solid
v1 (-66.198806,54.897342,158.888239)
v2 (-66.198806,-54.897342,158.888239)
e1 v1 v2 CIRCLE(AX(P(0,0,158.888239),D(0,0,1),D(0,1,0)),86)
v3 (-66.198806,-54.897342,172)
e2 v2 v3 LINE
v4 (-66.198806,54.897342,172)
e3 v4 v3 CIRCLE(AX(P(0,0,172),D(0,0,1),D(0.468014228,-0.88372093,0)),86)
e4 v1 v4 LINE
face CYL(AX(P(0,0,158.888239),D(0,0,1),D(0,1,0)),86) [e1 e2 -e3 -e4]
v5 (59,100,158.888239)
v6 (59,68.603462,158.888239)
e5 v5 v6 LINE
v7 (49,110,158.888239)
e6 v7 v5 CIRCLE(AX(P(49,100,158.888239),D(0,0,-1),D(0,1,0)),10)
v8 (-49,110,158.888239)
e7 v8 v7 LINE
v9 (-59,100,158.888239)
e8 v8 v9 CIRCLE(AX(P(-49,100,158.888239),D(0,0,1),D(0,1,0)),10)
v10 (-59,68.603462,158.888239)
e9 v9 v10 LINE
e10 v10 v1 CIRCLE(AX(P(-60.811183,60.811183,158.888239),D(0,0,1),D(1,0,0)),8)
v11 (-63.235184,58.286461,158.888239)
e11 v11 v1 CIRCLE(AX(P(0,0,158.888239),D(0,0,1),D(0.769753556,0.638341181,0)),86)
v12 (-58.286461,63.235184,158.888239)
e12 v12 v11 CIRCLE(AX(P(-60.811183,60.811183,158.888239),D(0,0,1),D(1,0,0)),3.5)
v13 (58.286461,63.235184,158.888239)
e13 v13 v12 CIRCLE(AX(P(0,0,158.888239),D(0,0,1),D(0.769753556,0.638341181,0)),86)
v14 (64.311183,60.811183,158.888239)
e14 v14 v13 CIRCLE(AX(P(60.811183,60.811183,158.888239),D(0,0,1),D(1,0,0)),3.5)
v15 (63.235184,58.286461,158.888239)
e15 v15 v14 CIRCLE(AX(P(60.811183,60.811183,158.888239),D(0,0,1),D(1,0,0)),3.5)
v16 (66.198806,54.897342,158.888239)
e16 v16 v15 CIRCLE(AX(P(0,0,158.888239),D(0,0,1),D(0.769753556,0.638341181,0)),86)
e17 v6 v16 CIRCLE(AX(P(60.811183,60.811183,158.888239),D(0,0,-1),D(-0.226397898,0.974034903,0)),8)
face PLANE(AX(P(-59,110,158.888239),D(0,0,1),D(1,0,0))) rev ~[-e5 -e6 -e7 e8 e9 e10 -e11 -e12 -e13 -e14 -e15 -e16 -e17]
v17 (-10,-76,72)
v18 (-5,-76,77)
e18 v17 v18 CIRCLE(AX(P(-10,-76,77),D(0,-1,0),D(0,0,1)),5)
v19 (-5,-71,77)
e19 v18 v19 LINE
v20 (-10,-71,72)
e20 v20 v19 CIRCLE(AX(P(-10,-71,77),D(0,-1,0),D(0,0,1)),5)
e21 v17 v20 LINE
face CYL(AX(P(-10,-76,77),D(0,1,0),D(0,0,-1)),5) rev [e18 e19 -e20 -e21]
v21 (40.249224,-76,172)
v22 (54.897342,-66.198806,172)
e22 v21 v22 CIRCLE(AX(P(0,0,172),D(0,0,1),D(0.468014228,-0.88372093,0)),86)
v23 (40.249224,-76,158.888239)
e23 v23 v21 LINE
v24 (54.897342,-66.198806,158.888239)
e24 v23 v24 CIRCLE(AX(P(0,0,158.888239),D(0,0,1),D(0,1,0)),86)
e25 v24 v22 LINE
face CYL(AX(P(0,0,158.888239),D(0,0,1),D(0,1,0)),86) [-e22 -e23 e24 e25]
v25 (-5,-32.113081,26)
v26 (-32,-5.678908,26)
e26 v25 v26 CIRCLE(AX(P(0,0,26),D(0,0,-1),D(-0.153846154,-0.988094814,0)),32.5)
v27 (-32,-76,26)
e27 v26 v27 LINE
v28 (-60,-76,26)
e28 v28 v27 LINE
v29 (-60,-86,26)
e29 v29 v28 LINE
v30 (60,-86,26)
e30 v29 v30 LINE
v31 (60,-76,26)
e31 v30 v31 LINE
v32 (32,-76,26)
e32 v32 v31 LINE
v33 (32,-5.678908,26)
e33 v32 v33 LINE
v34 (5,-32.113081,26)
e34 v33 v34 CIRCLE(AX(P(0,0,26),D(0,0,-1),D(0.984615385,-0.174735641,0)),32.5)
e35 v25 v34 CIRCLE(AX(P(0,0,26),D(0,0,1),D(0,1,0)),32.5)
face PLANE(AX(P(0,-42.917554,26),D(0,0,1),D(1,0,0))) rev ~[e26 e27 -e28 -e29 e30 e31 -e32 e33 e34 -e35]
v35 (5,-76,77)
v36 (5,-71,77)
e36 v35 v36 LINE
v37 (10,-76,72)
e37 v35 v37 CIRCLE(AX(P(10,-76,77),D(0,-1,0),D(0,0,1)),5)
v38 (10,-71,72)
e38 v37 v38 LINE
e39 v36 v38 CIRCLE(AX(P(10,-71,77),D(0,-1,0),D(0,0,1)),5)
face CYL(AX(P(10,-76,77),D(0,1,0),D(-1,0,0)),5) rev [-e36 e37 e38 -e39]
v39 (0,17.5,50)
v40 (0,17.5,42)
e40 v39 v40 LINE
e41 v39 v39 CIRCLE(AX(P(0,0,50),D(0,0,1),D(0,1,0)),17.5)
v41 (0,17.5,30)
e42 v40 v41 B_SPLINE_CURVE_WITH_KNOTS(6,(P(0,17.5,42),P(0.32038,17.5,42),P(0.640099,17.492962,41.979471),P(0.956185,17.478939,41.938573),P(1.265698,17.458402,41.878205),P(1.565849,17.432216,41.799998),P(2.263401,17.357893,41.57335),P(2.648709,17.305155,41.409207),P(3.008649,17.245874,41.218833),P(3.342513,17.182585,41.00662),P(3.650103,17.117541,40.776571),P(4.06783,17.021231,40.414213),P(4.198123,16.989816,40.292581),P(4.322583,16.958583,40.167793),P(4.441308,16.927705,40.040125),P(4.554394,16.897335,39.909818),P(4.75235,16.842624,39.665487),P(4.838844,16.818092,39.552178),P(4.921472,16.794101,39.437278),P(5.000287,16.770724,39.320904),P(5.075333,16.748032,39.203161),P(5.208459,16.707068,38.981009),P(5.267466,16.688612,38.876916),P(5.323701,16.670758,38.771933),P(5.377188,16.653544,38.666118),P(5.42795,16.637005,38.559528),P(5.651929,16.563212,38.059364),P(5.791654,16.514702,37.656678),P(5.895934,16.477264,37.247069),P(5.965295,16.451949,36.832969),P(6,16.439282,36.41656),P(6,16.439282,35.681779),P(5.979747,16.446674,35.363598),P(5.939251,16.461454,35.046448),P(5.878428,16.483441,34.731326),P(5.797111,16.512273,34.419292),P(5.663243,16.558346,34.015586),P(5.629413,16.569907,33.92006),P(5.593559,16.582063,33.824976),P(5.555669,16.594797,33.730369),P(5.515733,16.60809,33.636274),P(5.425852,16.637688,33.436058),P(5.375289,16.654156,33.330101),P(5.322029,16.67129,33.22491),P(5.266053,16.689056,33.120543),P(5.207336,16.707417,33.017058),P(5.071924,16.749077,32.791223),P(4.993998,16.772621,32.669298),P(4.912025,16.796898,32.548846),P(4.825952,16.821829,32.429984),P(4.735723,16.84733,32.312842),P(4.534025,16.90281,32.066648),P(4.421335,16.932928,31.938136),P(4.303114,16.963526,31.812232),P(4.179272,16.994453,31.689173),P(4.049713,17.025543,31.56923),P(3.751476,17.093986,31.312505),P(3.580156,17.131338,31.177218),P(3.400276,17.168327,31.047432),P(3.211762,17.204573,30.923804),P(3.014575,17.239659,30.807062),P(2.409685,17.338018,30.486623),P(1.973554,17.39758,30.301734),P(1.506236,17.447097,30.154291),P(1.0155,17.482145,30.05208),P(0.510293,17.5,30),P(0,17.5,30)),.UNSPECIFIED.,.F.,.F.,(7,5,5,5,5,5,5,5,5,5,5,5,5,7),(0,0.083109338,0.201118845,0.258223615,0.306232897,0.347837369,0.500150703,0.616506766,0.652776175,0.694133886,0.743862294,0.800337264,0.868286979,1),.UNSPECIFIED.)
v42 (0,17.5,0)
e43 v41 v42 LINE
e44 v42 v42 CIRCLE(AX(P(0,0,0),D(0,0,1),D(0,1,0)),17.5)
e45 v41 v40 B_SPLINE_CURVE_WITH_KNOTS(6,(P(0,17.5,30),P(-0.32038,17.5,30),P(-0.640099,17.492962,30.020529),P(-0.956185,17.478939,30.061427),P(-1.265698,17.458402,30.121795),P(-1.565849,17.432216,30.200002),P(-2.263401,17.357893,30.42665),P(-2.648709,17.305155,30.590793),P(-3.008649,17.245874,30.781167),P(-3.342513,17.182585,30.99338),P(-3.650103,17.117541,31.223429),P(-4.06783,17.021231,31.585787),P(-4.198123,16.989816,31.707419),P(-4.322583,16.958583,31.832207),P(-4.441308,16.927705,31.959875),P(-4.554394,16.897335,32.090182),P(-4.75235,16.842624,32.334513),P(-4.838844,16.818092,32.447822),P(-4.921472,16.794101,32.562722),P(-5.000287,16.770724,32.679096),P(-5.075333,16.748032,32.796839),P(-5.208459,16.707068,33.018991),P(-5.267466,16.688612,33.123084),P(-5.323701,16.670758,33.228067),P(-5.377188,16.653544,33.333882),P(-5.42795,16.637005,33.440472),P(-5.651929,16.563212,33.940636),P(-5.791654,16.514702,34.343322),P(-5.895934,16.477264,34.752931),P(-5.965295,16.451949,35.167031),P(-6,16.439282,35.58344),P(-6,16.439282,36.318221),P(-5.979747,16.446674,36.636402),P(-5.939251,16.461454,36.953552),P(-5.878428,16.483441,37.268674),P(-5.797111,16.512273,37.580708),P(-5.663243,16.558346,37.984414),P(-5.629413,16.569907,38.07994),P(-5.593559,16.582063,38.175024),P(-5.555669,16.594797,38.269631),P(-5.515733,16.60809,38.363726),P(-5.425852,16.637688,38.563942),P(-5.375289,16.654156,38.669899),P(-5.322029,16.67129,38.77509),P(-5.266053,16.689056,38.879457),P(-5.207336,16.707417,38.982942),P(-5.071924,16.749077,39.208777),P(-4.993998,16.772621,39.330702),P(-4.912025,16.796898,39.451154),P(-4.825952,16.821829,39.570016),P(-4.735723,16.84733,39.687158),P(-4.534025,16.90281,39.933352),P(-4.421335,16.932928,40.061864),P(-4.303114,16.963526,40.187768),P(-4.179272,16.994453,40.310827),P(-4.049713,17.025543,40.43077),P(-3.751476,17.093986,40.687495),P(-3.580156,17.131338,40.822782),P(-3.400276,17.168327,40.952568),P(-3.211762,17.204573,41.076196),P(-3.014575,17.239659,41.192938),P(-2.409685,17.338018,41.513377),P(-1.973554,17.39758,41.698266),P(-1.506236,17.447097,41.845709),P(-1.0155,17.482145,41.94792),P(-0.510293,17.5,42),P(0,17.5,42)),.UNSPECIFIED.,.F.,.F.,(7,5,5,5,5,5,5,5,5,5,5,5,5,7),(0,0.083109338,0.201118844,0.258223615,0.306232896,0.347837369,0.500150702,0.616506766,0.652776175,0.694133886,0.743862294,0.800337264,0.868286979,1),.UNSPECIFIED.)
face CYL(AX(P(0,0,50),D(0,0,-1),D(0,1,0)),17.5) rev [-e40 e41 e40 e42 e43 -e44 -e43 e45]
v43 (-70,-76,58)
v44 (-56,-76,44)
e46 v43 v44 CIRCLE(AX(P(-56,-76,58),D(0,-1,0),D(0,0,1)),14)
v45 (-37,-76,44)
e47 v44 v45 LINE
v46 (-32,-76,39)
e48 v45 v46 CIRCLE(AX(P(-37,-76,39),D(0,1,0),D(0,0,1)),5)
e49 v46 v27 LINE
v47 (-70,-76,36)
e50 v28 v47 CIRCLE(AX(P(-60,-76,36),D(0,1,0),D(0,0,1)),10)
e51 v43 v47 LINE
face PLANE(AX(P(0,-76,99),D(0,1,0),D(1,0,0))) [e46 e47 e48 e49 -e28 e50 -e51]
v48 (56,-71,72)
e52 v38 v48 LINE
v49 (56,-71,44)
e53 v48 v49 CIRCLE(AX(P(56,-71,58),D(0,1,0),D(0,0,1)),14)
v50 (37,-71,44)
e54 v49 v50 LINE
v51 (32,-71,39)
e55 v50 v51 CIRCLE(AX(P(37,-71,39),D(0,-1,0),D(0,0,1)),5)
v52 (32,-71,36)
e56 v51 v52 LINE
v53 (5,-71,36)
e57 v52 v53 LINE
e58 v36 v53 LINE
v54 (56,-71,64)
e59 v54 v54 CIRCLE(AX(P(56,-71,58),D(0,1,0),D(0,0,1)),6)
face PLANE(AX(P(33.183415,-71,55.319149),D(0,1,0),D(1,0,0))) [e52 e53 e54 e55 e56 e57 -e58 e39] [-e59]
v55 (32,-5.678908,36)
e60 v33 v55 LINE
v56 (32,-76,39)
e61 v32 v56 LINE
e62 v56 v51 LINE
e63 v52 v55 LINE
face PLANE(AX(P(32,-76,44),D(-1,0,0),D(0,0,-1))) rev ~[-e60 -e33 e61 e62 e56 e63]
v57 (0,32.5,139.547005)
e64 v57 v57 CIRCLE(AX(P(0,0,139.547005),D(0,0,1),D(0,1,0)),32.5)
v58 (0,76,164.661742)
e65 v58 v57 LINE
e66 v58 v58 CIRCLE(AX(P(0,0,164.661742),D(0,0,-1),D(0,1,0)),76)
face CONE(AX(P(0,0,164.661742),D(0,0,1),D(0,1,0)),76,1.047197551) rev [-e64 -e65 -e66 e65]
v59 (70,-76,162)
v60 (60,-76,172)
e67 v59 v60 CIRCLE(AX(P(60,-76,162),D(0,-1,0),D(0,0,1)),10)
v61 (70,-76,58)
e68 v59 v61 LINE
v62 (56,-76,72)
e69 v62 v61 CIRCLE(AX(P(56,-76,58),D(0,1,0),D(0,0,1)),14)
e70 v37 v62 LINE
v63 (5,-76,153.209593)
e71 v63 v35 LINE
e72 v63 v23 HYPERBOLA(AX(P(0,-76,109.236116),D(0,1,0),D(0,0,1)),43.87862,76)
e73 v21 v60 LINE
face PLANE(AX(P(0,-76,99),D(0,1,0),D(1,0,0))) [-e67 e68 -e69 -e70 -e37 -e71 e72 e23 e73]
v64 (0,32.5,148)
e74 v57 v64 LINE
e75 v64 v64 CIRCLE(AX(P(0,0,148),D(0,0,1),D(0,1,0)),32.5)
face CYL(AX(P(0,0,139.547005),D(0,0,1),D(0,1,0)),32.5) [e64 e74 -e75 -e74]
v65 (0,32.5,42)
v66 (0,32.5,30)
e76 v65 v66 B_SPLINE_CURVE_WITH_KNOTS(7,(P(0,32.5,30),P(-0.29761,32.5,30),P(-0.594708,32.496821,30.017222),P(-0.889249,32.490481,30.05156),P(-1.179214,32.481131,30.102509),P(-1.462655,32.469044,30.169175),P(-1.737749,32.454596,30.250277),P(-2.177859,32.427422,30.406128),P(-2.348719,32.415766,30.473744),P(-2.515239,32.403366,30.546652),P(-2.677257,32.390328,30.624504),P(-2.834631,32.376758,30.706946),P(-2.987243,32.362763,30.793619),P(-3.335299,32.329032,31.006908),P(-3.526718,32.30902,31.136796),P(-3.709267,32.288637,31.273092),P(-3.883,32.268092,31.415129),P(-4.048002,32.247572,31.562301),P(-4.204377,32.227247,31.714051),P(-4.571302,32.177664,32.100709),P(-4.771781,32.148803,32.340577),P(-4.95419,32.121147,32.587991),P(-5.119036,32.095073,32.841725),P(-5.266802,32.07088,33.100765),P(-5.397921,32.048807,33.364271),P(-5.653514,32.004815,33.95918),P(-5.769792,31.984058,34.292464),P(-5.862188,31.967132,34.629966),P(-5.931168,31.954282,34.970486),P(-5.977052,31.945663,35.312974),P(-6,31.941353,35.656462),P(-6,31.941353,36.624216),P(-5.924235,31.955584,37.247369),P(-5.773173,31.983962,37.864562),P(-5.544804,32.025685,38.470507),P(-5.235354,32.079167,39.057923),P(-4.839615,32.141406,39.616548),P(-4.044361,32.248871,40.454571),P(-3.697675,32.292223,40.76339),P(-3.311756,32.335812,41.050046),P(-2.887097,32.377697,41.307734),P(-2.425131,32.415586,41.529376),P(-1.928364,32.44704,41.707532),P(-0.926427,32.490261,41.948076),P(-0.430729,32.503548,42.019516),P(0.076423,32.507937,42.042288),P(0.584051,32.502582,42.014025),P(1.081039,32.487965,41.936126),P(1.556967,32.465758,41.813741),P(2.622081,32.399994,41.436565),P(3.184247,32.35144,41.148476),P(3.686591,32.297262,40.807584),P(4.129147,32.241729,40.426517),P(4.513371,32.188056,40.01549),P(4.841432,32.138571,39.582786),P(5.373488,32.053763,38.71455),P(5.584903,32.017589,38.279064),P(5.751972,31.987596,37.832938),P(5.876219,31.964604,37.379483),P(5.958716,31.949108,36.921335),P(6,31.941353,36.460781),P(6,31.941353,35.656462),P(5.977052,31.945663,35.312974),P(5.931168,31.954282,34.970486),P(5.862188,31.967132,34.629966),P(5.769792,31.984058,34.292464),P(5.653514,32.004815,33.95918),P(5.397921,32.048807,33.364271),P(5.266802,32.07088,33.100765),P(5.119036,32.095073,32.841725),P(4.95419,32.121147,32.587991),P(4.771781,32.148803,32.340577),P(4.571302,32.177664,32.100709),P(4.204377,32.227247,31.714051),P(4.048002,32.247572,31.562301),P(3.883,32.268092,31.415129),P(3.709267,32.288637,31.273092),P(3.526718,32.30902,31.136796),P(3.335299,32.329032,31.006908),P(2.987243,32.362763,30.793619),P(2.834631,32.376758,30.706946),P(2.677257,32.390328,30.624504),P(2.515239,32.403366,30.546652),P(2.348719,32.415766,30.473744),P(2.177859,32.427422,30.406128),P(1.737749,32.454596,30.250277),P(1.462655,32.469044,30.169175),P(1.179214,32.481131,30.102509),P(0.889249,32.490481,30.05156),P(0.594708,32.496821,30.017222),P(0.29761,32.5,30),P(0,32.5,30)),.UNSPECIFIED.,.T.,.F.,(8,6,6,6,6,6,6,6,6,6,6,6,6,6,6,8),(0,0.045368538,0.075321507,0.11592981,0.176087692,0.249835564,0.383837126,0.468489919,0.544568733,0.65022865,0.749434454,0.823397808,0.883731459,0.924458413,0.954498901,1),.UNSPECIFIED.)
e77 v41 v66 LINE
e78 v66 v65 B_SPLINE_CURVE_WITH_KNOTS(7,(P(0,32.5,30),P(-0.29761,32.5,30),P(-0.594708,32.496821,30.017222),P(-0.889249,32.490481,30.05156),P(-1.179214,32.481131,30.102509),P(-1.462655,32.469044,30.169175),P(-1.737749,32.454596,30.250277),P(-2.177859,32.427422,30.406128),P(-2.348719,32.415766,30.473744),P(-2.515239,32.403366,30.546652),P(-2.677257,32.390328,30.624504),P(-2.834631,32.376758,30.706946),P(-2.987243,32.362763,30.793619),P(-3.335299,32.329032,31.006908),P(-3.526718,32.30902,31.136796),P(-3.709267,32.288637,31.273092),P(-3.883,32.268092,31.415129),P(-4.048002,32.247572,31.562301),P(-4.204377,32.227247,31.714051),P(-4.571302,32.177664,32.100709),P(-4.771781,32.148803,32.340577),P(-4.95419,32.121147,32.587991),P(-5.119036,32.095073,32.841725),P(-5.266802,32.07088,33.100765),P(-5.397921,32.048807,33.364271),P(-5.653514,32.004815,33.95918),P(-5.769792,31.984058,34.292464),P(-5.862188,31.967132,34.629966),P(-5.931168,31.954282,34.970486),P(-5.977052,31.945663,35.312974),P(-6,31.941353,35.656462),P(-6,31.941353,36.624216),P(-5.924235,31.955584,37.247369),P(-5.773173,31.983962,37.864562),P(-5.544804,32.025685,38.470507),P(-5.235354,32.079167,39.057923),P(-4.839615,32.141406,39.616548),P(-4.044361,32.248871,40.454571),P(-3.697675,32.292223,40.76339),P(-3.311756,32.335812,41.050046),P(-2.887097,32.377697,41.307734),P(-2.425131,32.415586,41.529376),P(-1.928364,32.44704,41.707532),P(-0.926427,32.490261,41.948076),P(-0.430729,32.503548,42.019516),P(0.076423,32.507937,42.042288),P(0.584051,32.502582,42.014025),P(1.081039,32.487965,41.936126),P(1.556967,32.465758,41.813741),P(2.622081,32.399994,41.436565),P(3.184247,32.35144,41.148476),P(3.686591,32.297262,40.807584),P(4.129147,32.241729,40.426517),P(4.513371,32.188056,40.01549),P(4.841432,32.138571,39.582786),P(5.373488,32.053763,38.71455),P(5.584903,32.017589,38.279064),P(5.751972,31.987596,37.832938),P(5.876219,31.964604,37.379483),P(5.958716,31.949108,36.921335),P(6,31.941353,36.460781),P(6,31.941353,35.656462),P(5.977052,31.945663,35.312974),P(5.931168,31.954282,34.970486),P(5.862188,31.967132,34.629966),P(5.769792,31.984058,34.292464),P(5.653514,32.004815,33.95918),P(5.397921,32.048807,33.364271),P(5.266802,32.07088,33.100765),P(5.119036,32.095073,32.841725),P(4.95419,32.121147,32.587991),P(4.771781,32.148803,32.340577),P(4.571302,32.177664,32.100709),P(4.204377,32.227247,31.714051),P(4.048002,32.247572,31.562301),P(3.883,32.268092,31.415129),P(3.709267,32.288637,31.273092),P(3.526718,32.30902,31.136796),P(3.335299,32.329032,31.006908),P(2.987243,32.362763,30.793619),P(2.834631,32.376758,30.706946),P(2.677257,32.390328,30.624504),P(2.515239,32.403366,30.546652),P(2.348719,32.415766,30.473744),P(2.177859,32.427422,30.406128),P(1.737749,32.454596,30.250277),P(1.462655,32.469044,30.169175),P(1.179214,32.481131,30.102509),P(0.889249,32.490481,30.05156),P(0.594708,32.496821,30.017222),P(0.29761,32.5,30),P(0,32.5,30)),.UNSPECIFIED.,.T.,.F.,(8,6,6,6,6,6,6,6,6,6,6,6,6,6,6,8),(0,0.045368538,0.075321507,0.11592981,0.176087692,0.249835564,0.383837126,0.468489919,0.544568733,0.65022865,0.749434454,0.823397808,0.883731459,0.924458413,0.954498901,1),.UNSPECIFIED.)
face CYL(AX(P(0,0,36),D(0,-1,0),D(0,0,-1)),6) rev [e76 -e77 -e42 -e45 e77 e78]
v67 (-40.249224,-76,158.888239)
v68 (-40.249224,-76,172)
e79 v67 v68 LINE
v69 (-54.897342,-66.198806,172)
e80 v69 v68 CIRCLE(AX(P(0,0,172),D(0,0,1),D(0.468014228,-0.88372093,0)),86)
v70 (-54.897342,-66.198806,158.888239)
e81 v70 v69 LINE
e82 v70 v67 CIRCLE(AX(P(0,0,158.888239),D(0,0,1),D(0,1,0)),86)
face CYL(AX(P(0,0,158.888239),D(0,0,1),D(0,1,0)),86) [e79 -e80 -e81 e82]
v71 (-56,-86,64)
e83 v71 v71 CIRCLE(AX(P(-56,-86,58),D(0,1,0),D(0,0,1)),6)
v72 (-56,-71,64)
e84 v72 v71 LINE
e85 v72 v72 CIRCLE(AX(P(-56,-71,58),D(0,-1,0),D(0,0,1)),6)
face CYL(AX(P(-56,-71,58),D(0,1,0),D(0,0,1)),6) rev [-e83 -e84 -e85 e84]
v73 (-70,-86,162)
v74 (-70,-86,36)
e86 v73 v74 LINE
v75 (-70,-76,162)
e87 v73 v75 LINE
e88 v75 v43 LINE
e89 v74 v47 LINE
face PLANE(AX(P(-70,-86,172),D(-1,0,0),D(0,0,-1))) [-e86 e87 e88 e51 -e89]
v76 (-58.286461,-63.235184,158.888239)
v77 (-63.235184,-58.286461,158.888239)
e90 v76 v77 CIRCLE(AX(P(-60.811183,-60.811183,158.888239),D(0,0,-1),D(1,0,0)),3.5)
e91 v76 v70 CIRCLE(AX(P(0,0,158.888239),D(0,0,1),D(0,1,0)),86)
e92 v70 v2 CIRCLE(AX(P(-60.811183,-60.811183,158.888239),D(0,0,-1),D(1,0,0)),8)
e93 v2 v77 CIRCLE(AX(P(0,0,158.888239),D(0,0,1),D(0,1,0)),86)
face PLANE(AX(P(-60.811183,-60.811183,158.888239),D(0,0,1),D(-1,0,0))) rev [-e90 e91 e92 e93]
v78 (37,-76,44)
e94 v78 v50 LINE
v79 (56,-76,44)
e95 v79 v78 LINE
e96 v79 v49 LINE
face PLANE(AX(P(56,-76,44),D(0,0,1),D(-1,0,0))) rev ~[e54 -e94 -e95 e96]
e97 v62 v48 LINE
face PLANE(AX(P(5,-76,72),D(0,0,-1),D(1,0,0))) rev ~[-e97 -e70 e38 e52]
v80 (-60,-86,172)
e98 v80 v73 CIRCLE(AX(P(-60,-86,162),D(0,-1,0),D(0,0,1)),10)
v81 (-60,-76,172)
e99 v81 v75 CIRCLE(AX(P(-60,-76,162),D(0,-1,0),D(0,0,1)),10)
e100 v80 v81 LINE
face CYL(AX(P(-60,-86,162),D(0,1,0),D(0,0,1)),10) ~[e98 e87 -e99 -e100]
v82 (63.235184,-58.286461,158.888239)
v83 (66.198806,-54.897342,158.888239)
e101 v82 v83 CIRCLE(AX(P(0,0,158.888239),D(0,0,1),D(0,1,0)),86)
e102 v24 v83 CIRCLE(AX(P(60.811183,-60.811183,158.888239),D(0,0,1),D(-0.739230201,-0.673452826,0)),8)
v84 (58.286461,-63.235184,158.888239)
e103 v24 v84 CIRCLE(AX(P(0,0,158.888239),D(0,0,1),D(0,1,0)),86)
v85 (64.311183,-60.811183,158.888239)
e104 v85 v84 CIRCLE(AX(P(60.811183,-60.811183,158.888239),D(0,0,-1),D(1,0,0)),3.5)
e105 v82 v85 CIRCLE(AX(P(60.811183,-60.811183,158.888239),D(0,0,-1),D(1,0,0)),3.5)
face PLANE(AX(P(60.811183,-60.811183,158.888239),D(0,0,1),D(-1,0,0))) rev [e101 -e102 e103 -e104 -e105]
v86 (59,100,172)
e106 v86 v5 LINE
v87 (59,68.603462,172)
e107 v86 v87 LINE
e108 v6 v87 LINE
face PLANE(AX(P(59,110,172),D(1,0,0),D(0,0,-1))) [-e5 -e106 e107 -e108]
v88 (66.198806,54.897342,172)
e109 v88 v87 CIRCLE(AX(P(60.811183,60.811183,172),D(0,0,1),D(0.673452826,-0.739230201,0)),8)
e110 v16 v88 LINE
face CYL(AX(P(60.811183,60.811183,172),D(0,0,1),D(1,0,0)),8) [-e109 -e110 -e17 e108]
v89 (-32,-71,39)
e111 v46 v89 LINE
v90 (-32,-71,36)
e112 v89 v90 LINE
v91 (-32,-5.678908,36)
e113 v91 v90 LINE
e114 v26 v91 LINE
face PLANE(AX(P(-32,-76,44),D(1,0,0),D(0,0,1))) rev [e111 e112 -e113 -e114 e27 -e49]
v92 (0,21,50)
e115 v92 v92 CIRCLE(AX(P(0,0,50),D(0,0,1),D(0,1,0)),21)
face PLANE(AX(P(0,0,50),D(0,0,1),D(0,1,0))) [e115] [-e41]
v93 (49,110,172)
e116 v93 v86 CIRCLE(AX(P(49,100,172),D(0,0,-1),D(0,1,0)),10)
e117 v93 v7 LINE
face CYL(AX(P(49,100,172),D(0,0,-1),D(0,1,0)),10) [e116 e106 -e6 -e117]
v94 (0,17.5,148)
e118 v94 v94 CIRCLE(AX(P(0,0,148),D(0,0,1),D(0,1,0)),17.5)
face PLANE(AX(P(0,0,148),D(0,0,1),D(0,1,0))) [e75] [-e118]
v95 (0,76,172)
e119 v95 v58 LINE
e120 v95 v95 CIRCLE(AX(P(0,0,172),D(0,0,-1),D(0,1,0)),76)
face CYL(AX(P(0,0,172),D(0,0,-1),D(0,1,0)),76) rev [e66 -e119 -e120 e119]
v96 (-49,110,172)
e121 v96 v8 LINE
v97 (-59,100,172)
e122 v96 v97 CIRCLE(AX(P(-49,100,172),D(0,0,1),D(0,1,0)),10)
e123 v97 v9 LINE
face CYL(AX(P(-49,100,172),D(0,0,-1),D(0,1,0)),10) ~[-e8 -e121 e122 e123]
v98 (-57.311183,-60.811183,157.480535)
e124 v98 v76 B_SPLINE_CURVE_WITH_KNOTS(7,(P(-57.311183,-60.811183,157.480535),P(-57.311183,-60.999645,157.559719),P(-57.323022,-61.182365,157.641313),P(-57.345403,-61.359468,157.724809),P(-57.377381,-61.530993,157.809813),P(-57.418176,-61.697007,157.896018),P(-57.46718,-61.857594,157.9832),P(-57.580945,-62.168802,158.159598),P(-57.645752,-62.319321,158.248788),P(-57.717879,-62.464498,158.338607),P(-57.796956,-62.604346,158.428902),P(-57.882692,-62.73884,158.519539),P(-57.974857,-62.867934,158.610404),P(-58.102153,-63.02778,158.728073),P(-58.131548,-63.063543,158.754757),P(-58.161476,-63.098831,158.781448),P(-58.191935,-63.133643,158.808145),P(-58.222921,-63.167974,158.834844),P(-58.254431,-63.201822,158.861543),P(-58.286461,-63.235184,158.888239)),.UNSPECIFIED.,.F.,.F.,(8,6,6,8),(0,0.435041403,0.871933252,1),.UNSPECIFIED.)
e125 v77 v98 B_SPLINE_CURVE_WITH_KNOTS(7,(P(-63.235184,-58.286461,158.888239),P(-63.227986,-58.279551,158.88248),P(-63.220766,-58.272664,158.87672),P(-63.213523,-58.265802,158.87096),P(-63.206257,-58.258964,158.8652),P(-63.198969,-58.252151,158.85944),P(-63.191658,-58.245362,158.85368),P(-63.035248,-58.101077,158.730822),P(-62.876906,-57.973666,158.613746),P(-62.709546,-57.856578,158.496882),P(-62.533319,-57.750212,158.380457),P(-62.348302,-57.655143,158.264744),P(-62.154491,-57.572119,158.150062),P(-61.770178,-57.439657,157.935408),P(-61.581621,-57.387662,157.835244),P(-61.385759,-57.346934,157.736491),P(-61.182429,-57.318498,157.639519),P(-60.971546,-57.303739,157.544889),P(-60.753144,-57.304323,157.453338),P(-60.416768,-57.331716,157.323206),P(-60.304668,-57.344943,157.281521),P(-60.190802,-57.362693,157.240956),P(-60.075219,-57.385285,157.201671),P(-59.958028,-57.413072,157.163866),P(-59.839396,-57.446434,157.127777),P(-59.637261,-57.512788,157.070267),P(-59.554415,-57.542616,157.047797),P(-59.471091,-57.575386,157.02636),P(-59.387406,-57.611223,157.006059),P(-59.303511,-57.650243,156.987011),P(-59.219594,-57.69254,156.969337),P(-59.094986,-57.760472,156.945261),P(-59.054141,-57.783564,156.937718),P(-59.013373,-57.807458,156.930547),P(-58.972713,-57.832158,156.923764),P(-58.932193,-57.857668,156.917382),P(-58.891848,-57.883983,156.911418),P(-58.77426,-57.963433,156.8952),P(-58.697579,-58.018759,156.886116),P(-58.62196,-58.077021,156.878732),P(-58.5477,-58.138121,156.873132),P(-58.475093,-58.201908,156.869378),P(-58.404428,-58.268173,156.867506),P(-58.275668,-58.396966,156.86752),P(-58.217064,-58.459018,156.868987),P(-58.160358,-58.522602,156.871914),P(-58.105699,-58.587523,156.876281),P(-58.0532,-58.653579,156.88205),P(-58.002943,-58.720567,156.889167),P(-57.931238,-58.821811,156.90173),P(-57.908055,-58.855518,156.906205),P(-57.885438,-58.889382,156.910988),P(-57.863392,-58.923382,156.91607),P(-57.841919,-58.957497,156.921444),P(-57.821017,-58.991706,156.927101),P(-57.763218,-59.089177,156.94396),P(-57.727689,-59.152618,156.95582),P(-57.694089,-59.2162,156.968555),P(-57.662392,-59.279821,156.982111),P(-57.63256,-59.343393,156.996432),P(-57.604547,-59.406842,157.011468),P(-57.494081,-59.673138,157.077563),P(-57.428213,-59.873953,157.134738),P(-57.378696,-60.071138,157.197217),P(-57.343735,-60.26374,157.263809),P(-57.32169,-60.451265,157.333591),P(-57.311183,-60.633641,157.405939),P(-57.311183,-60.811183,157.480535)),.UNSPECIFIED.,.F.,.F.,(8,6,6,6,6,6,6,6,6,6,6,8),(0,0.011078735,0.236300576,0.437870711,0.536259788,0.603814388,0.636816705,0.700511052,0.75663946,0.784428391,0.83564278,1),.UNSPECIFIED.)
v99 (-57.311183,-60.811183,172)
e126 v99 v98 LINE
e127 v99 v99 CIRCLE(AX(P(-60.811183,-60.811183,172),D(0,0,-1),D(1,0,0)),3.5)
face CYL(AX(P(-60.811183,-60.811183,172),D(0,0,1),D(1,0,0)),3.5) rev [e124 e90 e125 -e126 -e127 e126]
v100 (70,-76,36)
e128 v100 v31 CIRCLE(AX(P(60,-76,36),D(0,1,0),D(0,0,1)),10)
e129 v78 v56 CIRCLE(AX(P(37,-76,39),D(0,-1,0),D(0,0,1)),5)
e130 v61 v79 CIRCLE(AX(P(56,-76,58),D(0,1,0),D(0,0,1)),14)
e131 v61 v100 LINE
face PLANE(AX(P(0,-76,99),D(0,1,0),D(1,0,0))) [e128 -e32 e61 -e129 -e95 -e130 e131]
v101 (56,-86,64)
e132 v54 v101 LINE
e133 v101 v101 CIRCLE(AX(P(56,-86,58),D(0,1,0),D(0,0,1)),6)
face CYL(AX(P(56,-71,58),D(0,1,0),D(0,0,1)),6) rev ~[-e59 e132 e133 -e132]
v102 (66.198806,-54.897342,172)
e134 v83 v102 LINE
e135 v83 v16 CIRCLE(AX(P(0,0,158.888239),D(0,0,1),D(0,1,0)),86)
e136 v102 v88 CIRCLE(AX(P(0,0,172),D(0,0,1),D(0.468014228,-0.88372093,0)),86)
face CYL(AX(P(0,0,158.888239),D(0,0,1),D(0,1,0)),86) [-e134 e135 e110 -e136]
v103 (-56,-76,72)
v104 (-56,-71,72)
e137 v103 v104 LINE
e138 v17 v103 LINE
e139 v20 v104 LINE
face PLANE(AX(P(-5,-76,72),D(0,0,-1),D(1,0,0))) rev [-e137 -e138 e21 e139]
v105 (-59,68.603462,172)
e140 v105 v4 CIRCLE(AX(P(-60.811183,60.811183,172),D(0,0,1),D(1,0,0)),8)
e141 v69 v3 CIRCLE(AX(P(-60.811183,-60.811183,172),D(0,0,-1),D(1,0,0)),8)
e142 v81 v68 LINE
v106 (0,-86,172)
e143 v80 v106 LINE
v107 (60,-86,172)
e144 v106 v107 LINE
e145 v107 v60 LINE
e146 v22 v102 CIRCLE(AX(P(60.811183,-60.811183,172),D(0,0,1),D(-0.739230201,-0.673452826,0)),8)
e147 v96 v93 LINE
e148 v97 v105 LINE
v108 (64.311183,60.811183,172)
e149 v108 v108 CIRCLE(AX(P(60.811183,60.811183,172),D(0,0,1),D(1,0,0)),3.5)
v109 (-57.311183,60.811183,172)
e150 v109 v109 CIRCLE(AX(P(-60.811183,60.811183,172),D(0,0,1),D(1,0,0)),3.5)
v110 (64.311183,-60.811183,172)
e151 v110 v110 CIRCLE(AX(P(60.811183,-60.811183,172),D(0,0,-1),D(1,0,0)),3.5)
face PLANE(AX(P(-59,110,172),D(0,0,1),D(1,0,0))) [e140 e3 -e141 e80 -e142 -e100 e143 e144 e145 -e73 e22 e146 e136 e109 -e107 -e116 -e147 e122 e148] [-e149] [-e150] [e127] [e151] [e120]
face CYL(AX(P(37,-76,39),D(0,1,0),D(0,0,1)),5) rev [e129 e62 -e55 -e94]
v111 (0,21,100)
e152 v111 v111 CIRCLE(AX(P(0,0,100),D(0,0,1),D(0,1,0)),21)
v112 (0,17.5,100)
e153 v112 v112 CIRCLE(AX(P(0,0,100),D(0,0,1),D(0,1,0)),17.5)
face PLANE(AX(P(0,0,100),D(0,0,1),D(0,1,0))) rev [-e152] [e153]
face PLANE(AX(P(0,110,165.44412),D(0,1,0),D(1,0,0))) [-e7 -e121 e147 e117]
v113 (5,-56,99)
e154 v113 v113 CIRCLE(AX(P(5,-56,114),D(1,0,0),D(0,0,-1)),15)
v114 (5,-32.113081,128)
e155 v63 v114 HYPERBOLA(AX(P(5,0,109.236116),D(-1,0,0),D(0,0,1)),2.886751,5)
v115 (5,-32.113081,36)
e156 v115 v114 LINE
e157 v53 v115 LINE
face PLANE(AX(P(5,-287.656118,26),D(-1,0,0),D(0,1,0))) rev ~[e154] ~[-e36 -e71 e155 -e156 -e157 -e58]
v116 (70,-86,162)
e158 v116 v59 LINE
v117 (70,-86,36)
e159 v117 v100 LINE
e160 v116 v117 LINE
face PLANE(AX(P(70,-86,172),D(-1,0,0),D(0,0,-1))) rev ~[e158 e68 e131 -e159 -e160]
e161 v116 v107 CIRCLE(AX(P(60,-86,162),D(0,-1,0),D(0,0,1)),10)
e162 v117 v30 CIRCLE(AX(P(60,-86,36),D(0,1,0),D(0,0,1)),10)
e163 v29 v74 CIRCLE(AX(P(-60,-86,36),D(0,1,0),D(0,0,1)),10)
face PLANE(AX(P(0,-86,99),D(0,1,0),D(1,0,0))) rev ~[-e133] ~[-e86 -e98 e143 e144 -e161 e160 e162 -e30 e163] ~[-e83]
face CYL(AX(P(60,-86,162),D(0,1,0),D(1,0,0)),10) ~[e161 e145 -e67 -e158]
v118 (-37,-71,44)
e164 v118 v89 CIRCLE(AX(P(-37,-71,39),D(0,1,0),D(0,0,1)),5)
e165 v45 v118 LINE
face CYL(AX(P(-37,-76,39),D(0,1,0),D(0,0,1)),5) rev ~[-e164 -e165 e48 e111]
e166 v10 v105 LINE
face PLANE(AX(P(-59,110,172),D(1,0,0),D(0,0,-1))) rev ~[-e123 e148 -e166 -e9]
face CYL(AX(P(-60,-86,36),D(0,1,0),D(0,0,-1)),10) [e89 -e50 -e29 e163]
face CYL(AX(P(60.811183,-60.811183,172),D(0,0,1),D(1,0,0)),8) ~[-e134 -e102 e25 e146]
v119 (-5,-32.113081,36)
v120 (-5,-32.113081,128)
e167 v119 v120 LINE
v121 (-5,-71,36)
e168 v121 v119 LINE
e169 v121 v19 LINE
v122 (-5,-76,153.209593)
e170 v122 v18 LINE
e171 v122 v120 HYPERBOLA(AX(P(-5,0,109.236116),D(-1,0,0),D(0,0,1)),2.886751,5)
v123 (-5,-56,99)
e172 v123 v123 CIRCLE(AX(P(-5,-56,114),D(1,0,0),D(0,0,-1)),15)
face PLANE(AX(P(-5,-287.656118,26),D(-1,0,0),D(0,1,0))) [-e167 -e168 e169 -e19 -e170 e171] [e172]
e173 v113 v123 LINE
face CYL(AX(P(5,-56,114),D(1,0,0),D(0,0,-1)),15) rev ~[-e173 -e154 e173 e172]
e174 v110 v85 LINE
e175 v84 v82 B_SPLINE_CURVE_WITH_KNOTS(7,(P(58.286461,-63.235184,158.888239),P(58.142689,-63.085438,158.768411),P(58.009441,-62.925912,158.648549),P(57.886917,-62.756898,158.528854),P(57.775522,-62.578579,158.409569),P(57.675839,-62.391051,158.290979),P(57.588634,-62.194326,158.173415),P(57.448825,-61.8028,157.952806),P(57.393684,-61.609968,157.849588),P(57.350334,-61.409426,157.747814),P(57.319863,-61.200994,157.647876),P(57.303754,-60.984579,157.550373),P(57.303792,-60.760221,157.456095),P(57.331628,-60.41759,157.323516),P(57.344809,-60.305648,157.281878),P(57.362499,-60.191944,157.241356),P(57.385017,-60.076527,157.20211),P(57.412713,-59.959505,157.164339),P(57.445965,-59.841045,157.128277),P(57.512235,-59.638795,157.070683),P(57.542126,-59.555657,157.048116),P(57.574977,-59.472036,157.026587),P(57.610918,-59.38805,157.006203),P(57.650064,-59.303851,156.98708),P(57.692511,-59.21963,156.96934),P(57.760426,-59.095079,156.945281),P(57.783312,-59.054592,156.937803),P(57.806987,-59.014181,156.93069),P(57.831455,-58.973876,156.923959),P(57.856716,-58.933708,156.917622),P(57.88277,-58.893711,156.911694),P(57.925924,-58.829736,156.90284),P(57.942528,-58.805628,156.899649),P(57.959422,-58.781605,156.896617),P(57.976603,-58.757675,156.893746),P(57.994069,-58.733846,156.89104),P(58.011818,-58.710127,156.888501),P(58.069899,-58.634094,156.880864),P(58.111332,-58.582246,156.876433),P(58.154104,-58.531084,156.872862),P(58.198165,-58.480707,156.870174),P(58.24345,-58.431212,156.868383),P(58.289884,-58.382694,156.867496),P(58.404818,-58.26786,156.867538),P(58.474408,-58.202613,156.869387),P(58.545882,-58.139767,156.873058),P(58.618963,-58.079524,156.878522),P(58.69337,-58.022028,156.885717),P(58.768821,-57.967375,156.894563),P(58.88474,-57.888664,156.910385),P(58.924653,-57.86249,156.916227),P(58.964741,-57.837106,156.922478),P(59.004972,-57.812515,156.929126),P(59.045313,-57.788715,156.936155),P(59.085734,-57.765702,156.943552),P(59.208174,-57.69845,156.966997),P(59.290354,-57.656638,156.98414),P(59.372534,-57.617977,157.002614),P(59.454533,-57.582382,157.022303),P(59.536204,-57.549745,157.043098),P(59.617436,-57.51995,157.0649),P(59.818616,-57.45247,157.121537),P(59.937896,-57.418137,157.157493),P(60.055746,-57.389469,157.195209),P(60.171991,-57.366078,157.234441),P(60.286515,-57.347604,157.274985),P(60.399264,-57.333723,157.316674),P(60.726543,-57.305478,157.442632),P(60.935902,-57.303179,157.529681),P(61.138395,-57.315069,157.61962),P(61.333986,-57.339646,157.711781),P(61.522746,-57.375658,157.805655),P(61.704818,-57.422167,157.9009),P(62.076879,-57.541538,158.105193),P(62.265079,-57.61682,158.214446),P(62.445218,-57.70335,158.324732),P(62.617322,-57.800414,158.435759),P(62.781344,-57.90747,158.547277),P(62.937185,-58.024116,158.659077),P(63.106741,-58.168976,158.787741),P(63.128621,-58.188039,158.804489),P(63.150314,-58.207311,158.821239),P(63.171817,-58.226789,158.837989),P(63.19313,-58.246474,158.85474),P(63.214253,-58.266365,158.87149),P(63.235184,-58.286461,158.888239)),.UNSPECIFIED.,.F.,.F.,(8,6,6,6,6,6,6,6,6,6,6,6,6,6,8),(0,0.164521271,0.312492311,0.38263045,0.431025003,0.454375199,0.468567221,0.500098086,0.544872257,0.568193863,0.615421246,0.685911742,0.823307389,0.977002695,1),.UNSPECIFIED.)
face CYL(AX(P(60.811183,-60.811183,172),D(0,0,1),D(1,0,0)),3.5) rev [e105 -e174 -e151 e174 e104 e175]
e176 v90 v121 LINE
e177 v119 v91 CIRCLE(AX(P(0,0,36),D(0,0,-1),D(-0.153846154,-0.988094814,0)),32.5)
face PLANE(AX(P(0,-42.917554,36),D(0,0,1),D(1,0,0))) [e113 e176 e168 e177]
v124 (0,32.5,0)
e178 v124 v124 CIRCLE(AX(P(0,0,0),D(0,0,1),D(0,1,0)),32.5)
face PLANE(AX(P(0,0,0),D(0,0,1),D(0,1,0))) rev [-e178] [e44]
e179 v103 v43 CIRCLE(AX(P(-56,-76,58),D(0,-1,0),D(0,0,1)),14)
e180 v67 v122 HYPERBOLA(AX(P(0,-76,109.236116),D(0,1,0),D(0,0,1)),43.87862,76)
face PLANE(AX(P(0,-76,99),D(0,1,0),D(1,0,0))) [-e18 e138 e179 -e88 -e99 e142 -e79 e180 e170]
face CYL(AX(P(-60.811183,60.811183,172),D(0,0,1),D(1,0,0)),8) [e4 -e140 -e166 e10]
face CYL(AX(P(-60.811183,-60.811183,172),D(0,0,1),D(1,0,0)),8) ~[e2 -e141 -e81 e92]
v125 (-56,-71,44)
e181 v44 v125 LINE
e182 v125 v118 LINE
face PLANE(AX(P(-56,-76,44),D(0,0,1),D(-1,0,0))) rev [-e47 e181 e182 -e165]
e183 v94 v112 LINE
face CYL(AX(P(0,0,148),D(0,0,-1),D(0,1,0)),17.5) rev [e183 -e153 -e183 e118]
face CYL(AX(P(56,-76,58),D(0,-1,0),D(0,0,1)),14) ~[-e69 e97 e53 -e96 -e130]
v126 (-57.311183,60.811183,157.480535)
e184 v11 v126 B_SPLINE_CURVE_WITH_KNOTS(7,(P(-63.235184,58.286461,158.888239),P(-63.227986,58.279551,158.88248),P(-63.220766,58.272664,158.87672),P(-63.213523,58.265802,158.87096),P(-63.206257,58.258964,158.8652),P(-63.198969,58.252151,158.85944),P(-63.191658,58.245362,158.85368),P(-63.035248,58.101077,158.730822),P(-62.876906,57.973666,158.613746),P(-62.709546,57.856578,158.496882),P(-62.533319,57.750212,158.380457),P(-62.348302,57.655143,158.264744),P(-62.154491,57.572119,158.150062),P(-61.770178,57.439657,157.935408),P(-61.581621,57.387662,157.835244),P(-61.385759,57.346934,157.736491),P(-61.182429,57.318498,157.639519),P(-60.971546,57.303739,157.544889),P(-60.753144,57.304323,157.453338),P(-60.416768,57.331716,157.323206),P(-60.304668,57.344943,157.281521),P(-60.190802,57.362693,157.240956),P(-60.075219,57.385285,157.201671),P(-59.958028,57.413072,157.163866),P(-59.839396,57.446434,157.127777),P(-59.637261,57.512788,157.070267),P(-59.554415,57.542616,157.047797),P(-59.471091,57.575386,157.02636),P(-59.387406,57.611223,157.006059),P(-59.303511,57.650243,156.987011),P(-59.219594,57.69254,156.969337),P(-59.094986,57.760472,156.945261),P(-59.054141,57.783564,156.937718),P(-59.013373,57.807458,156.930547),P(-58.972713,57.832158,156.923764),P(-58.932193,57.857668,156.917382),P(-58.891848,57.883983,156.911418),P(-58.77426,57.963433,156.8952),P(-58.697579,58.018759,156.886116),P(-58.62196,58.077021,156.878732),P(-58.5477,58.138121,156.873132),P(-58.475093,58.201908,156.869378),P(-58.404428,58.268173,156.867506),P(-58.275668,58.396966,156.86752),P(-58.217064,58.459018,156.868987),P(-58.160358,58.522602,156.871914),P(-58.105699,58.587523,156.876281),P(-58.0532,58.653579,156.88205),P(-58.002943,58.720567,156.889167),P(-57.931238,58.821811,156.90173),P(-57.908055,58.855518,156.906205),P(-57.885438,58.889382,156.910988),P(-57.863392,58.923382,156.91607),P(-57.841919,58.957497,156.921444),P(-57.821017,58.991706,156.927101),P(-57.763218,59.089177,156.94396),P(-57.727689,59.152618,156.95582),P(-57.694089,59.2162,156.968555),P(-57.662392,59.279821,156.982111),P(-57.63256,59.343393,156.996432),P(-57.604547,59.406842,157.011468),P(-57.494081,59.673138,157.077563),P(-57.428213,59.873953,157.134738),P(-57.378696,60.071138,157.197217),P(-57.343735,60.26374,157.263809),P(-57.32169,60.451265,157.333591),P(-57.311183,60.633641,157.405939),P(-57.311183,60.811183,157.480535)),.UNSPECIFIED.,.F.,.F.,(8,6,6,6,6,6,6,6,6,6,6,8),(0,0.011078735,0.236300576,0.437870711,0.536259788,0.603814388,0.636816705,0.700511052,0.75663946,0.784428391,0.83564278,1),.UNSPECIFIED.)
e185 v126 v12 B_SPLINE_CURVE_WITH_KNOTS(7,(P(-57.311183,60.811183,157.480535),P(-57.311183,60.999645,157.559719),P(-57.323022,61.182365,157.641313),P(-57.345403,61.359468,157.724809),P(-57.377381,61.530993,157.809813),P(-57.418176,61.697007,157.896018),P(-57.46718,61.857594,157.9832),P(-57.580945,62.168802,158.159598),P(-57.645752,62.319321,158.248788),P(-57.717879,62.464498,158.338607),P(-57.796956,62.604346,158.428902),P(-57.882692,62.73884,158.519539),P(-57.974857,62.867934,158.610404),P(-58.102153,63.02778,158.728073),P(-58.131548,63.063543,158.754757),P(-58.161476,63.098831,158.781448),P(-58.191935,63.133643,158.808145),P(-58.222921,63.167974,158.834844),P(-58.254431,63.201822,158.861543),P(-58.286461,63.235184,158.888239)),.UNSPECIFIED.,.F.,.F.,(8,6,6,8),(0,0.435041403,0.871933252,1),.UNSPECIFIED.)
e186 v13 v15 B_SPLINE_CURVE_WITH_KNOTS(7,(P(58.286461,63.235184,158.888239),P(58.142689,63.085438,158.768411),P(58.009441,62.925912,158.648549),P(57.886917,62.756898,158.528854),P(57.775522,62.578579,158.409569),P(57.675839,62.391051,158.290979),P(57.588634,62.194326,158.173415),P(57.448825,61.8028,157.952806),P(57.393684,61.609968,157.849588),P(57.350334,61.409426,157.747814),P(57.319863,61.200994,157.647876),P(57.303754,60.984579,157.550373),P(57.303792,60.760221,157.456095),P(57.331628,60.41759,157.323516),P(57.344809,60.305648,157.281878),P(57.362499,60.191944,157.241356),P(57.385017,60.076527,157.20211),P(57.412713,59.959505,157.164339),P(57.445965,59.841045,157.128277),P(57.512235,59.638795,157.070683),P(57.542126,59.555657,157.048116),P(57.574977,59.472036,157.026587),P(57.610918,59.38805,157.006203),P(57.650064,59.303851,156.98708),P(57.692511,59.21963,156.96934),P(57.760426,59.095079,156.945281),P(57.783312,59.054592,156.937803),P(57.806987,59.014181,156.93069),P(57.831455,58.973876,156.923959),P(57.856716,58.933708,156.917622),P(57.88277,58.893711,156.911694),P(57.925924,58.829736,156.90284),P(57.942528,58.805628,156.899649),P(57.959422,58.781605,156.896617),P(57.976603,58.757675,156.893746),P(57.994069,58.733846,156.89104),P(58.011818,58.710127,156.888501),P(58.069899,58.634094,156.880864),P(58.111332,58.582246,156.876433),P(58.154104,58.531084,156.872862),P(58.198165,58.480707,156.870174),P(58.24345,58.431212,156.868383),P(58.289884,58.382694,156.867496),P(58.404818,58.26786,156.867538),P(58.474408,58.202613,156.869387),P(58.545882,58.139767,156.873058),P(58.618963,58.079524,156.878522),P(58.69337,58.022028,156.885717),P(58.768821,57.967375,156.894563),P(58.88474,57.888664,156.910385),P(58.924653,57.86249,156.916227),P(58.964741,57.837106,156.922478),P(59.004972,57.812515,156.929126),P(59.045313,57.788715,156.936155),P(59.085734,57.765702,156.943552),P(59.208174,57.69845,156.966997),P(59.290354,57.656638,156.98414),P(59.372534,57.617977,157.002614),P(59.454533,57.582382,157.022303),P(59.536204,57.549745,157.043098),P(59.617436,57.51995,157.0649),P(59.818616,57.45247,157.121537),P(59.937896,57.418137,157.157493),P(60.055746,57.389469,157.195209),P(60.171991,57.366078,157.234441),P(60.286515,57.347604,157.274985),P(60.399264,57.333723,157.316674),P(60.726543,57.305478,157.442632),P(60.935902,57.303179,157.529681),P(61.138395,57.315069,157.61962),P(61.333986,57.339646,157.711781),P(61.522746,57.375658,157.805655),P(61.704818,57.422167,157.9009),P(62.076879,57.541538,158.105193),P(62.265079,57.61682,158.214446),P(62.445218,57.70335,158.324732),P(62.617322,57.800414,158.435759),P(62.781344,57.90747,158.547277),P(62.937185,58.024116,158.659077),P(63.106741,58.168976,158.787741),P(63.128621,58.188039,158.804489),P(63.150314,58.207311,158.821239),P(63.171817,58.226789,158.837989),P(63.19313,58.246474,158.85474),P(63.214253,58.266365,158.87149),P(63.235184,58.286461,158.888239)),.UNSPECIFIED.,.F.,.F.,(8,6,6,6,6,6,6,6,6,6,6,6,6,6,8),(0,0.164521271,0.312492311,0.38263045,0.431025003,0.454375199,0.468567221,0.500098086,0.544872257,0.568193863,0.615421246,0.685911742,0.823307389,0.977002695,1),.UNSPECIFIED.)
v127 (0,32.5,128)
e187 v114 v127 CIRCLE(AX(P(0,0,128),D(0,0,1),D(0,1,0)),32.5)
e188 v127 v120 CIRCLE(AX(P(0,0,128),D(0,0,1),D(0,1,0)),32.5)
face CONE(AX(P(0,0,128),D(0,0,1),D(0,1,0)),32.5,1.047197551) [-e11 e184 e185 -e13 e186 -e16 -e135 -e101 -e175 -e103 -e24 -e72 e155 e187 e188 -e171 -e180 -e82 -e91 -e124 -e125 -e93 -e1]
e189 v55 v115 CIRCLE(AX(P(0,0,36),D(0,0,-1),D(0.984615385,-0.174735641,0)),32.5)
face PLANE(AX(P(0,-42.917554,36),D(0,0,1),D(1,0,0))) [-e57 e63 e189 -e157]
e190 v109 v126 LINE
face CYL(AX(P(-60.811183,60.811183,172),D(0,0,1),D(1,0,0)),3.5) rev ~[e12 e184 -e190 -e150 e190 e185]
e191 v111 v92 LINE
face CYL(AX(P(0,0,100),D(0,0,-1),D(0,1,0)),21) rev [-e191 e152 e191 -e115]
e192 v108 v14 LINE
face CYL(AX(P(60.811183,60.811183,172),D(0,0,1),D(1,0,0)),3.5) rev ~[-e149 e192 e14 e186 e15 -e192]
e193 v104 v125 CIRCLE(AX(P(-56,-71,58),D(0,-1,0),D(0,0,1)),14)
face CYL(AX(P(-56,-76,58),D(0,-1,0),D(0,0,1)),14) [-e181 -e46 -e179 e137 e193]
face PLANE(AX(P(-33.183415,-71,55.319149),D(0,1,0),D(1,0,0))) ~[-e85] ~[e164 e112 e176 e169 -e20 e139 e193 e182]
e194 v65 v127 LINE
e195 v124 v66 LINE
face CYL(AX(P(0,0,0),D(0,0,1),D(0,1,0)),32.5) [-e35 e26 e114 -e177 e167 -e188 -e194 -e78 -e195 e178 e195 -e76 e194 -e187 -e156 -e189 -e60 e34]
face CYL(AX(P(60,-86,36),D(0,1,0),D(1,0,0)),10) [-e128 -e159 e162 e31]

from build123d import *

# Parameters (mm, degrees)
SKETCH2_W               = 140
SKETCH2_H               = 146
BOSS_EXTRUDE1_DEPTH     = 10
RIB1_REACH              = 212.656
SKETCH3_WALL_W          = 466.812236738
SKETCH3_WALL_H          = 10
BOSS_EXTRUDE2_DEPTH     = 10
BOSS_EXTRUDE3_REACH     = 276.583
SKETCH5_W               = 118
SKETCH5_H               = 13.111760598
BOSS_EXTRUDE4_DEPTH     = 5
SKETCH7_R               = 6
CUT_EXTRUDE1_DEPTH      = 265.085213911
SKETCH8_R               = 8
BOSS_EXTRUDE5_DEPTH     = 13.111760598
CUT_EXTRUDE2_REACH      = 223.54
SKETCH9_R               = 3.5
SKETCH10_R              = 15
CUT_EXTRUDE3_DEPTH      = 224.528522172
CUT_EXTRUDE4_REACH      = 223.54
CUT_EXTRUDE4_END_RADIUS = 32.5
SKETCH11_R              = 6
FILLET3_R               = 10
FILLET4_R               = 5
FILLET5_R               = 10


with BuildPart() as part:
    # Sketch1 → Revolve1 (revolve)
    with BuildSketch(Plane(origin=(0, 0, 0), x_dir=(0, 0, -1), z_dir=(1, 0, 0))):
        Polygon((0, 32.5), (-128, 32.5), (-158.888239402, 86), (-172, 86), (-172, 76), (-164.661742094, 76), (-139.547005384, 32.5), (-148, 32.5), (-148, 17.5), (-100, 17.5), (-100, 21), (-50, 21), (-50, 17.5), (0, 17.5), align=None)
    revolve(axis=Axis((0, 0, 0), (0, 0, 1)))

    # Sketch2 → Boss-Extrude1 (add)
    with BuildSketch(Plane(origin=(0, -86, 0), x_dir=(1, 0, 0), z_dir=(0, 1, 0))):
        with Locations((0, -99)):
            Rectangle(SKETCH2_W, SKETCH2_H)
    extrude(amount=BOSS_EXTRUDE1_DEPTH)

    # Sketch3 wall → Rib1 (add, up to next)
    with BuildSketch(Plane(origin=(0, -54.25, 26), x_dir=(0, 1, 0), z_dir=(0, 0, 1)), mode=Mode.PRIVATE) as rib1_sk1:
        Rectangle(SKETCH3_WALL_W, SKETCH3_WALL_H)
    rib1_tool1 = extrude(rib1_sk1.sketch, amount=RIB1_REACH, mode=Mode.PRIVATE) - part.part
    add(rib1_tool1.solids().sort_by_distance((0, -54.25, 26))[0])

    # Sketch4 → Boss-Extrude2 (add)
    with BuildSketch(Plane(origin=(0, 0, 26), x_dir=(-1, 0, 0), z_dir=(0, 0, -1))):
        with BuildLine():
            Line((-32, -76), (-32, -5.678908346))
            ThreePointArc((-32, -5.678908346), (-22.736344844, -23.223019251), (-5, -32.113081447))
            ThreePointArc((-5, -32.113081447), (0, -32.5), (5, -32.113081447))
            ThreePointArc((5, -32.113081447), (22.736344844, -23.223019251), (32, -5.678908346))
            Line((32, -5.678908346), (32, -76))
            Line((32, -76), (-32, -76))
        make_face()
    extrude(amount=-BOSS_EXTRUDE2_DEPTH)

    # Sketch5 → Boss-Extrude3 (add, up to next)
    with BuildSketch(Plane(origin=(0, 110, 0), x_dir=(1, 0, 0), z_dir=(0, 1, 0)), mode=Mode.PRIVATE) as boss_extrude3_sk1:
        with Locations((0, -165.444119701)):
            Rectangle(SKETCH5_W, SKETCH5_H)
    boss_extrude3_tool1 = extrude(boss_extrude3_sk1.sketch, amount=-BOSS_EXTRUDE3_REACH, mode=Mode.PRIVATE) - part.part
    add(boss_extrude3_tool1.solids().sort_by_distance((0, 110, 165.44412))[0])

    # Sketch6 → Boss-Extrude4 (add)
    with BuildSketch(Plane(origin=(0, -76, 0), x_dir=(1, 0, 0), z_dir=(0, 1, 0))):
        with BuildLine():
            Line((5, -36), (5, -72))
            Line((5, -72), (56, -72))
            ThreePointArc((56, -72), (70, -58), (56, -44))
            Line((56, -44), (32, -44))
            Line((32, -44), (32, -36))
            Line((32, -36), (5, -36))
        make_face()
    boss_extrude4 = extrude(amount=BOSS_EXTRUDE4_DEPTH)

    # Sketch7 → Cut-Extrude1 (cut, through all)
    with BuildSketch(Plane(origin=(0, -71, 0), x_dir=(1, 0, 0), z_dir=(0, 1, 0))):
        with Locations(Location((56, -58, 0), (0, 0, 270))):
            Circle(SKETCH7_R)
    cut_extrude1 = extrude(amount=-CUT_EXTRUDE1_DEPTH, mode=Mode.SUBTRACT)

    # Mirror1: Boss-Extrude4, Cut-Extrude1 across plane
    add(boss_extrude4.mirror(Plane(origin=(0, 0, 0), x_dir=(0, 0, 1), z_dir=(1, 0, 0))))
    add(cut_extrude1.mirror(Plane(origin=(0, 0, 0), x_dir=(0, 0, 1), z_dir=(1, 0, 0))), mode=Mode.SUBTRACT)

    # Sketch8 → Boss-Extrude5 (add)
    with BuildSketch(Plane.XY.offset(172)):
        with Locations((-60.811183182, 60.811183182)):
            Circle(SKETCH8_R)
        with Locations((60.811183182, 60.811183182)):
            Circle(SKETCH8_R)
    boss_extrude5 = extrude(amount=-BOSS_EXTRUDE5_DEPTH)

    # Sketch9 → Cut-Extrude2 (cut, up to next)
    with BuildSketch(Plane.XY.offset(172), mode=Mode.PRIVATE) as cut_extrude2_sk1:
        with Locations((-60.811183182, 60.811183182)):
            Circle(SKETCH9_R)
    cut_extrude2_tool1 = extrude(cut_extrude2_sk1.sketch, amount=-CUT_EXTRUDE2_REACH, mode=Mode.PRIVATE) & part.part
    # Sketch9 → Cut-Extrude2 (cut, up to next)
    with BuildSketch(Plane.XY.offset(172), mode=Mode.PRIVATE) as cut_extrude2_sk2:
        with Locations((60.811183182, 60.811183182)):
            Circle(SKETCH9_R)
    cut_extrude2_tool2 = extrude(cut_extrude2_sk2.sketch, amount=-CUT_EXTRUDE2_REACH, mode=Mode.PRIVATE) & part.part
    cut_extrude2_1 = cut_extrude2_tool1.solids().sort_by_distance((-60.811183, 60.811183, 172))[0]
    add(cut_extrude2_1, mode=Mode.SUBTRACT)
    cut_extrude2_2 = cut_extrude2_tool2.solids().sort_by_distance((60.811183, 60.811183, 172))[0]
    add(cut_extrude2_2, mode=Mode.SUBTRACT)
    cut_extrude2 = cut_extrude2_1 + cut_extrude2_2  # Cut-Extrude2 as one shape, for the pattern or mirror that repeats it

    # Mirror2: Boss-Extrude5, Cut-Extrude2 across plane
    add(boss_extrude5.mirror(Plane.ZX))
    add(cut_extrude2.mirror(Plane.ZX), mode=Mode.SUBTRACT)

    # Sketch10 → Cut-Extrude3 (cut, through all)
    with BuildSketch(Plane(origin=(5, 0, 0), x_dir=(0, 0, -1), z_dir=(1, 0, 0))):
        with Locations((-114, -56)):
            Circle(SKETCH10_R)
    extrude(amount=-CUT_EXTRUDE3_DEPTH, mode=Mode.SUBTRACT)

    # Cut-Extrude4: up to this cylinder (the profile starts inside it)
    cut_extrude4_end = Plane(origin=(0, 0, 36), z_dir=(0, 0, -1)) * Cylinder(CUT_EXTRUDE4_END_RADIUS, 513.08, mode=Mode.PRIVATE)
    # Sketch11 → Cut-Extrude4 (cut, up to the surface)
    with BuildSketch(Plane(origin=(0, 0, 0), x_dir=(1, 0, 0), z_dir=(0, 1, 0)), mode=Mode.PRIVATE) as cut_extrude4_sk1:
        with Locations(Location((0, -36, 0), (0, 0, 90))):
            Circle(SKETCH11_R)
    cut_extrude4_tool1 = extrude(cut_extrude4_sk1.sketch, amount=CUT_EXTRUDE4_REACH, mode=Mode.PRIVATE) & cut_extrude4_end
    add(cut_extrude4_tool1.solids().sort_by_distance((0, 0, 36))[0], mode=Mode.SUBTRACT)

    # Fillet3
    fillet3_edges = [part.edges().sort_by_distance(p)[0] for p in [
        (-59, 110, 165.444119701),
        (59, 110, 165.444119701),
    ]]
    fillet(fillet3_edges, radius=FILLET3_R)

    # Fillet4
    fillet4_edges = [part.edges().sort_by_distance(p)[0] for p in [
        (32, -73.5, 44),
        (5, -73.5, 72),
        (-5, -73.5, 72),
        (-32, -73.5, 44),
    ]]
    fillet(fillet4_edges, radius=FILLET4_R)

    # Fillet5
    fillet5_edges = [part.edges().sort_by_distance(p)[0] for p in [
        (-70, -81, 172),
        (-70, -81, 26),
        (70, -81, 172),
        (70, -81, 26),
    ]]
    fillet(fillet5_edges, radius=FILLET5_R)


solid = part.part
